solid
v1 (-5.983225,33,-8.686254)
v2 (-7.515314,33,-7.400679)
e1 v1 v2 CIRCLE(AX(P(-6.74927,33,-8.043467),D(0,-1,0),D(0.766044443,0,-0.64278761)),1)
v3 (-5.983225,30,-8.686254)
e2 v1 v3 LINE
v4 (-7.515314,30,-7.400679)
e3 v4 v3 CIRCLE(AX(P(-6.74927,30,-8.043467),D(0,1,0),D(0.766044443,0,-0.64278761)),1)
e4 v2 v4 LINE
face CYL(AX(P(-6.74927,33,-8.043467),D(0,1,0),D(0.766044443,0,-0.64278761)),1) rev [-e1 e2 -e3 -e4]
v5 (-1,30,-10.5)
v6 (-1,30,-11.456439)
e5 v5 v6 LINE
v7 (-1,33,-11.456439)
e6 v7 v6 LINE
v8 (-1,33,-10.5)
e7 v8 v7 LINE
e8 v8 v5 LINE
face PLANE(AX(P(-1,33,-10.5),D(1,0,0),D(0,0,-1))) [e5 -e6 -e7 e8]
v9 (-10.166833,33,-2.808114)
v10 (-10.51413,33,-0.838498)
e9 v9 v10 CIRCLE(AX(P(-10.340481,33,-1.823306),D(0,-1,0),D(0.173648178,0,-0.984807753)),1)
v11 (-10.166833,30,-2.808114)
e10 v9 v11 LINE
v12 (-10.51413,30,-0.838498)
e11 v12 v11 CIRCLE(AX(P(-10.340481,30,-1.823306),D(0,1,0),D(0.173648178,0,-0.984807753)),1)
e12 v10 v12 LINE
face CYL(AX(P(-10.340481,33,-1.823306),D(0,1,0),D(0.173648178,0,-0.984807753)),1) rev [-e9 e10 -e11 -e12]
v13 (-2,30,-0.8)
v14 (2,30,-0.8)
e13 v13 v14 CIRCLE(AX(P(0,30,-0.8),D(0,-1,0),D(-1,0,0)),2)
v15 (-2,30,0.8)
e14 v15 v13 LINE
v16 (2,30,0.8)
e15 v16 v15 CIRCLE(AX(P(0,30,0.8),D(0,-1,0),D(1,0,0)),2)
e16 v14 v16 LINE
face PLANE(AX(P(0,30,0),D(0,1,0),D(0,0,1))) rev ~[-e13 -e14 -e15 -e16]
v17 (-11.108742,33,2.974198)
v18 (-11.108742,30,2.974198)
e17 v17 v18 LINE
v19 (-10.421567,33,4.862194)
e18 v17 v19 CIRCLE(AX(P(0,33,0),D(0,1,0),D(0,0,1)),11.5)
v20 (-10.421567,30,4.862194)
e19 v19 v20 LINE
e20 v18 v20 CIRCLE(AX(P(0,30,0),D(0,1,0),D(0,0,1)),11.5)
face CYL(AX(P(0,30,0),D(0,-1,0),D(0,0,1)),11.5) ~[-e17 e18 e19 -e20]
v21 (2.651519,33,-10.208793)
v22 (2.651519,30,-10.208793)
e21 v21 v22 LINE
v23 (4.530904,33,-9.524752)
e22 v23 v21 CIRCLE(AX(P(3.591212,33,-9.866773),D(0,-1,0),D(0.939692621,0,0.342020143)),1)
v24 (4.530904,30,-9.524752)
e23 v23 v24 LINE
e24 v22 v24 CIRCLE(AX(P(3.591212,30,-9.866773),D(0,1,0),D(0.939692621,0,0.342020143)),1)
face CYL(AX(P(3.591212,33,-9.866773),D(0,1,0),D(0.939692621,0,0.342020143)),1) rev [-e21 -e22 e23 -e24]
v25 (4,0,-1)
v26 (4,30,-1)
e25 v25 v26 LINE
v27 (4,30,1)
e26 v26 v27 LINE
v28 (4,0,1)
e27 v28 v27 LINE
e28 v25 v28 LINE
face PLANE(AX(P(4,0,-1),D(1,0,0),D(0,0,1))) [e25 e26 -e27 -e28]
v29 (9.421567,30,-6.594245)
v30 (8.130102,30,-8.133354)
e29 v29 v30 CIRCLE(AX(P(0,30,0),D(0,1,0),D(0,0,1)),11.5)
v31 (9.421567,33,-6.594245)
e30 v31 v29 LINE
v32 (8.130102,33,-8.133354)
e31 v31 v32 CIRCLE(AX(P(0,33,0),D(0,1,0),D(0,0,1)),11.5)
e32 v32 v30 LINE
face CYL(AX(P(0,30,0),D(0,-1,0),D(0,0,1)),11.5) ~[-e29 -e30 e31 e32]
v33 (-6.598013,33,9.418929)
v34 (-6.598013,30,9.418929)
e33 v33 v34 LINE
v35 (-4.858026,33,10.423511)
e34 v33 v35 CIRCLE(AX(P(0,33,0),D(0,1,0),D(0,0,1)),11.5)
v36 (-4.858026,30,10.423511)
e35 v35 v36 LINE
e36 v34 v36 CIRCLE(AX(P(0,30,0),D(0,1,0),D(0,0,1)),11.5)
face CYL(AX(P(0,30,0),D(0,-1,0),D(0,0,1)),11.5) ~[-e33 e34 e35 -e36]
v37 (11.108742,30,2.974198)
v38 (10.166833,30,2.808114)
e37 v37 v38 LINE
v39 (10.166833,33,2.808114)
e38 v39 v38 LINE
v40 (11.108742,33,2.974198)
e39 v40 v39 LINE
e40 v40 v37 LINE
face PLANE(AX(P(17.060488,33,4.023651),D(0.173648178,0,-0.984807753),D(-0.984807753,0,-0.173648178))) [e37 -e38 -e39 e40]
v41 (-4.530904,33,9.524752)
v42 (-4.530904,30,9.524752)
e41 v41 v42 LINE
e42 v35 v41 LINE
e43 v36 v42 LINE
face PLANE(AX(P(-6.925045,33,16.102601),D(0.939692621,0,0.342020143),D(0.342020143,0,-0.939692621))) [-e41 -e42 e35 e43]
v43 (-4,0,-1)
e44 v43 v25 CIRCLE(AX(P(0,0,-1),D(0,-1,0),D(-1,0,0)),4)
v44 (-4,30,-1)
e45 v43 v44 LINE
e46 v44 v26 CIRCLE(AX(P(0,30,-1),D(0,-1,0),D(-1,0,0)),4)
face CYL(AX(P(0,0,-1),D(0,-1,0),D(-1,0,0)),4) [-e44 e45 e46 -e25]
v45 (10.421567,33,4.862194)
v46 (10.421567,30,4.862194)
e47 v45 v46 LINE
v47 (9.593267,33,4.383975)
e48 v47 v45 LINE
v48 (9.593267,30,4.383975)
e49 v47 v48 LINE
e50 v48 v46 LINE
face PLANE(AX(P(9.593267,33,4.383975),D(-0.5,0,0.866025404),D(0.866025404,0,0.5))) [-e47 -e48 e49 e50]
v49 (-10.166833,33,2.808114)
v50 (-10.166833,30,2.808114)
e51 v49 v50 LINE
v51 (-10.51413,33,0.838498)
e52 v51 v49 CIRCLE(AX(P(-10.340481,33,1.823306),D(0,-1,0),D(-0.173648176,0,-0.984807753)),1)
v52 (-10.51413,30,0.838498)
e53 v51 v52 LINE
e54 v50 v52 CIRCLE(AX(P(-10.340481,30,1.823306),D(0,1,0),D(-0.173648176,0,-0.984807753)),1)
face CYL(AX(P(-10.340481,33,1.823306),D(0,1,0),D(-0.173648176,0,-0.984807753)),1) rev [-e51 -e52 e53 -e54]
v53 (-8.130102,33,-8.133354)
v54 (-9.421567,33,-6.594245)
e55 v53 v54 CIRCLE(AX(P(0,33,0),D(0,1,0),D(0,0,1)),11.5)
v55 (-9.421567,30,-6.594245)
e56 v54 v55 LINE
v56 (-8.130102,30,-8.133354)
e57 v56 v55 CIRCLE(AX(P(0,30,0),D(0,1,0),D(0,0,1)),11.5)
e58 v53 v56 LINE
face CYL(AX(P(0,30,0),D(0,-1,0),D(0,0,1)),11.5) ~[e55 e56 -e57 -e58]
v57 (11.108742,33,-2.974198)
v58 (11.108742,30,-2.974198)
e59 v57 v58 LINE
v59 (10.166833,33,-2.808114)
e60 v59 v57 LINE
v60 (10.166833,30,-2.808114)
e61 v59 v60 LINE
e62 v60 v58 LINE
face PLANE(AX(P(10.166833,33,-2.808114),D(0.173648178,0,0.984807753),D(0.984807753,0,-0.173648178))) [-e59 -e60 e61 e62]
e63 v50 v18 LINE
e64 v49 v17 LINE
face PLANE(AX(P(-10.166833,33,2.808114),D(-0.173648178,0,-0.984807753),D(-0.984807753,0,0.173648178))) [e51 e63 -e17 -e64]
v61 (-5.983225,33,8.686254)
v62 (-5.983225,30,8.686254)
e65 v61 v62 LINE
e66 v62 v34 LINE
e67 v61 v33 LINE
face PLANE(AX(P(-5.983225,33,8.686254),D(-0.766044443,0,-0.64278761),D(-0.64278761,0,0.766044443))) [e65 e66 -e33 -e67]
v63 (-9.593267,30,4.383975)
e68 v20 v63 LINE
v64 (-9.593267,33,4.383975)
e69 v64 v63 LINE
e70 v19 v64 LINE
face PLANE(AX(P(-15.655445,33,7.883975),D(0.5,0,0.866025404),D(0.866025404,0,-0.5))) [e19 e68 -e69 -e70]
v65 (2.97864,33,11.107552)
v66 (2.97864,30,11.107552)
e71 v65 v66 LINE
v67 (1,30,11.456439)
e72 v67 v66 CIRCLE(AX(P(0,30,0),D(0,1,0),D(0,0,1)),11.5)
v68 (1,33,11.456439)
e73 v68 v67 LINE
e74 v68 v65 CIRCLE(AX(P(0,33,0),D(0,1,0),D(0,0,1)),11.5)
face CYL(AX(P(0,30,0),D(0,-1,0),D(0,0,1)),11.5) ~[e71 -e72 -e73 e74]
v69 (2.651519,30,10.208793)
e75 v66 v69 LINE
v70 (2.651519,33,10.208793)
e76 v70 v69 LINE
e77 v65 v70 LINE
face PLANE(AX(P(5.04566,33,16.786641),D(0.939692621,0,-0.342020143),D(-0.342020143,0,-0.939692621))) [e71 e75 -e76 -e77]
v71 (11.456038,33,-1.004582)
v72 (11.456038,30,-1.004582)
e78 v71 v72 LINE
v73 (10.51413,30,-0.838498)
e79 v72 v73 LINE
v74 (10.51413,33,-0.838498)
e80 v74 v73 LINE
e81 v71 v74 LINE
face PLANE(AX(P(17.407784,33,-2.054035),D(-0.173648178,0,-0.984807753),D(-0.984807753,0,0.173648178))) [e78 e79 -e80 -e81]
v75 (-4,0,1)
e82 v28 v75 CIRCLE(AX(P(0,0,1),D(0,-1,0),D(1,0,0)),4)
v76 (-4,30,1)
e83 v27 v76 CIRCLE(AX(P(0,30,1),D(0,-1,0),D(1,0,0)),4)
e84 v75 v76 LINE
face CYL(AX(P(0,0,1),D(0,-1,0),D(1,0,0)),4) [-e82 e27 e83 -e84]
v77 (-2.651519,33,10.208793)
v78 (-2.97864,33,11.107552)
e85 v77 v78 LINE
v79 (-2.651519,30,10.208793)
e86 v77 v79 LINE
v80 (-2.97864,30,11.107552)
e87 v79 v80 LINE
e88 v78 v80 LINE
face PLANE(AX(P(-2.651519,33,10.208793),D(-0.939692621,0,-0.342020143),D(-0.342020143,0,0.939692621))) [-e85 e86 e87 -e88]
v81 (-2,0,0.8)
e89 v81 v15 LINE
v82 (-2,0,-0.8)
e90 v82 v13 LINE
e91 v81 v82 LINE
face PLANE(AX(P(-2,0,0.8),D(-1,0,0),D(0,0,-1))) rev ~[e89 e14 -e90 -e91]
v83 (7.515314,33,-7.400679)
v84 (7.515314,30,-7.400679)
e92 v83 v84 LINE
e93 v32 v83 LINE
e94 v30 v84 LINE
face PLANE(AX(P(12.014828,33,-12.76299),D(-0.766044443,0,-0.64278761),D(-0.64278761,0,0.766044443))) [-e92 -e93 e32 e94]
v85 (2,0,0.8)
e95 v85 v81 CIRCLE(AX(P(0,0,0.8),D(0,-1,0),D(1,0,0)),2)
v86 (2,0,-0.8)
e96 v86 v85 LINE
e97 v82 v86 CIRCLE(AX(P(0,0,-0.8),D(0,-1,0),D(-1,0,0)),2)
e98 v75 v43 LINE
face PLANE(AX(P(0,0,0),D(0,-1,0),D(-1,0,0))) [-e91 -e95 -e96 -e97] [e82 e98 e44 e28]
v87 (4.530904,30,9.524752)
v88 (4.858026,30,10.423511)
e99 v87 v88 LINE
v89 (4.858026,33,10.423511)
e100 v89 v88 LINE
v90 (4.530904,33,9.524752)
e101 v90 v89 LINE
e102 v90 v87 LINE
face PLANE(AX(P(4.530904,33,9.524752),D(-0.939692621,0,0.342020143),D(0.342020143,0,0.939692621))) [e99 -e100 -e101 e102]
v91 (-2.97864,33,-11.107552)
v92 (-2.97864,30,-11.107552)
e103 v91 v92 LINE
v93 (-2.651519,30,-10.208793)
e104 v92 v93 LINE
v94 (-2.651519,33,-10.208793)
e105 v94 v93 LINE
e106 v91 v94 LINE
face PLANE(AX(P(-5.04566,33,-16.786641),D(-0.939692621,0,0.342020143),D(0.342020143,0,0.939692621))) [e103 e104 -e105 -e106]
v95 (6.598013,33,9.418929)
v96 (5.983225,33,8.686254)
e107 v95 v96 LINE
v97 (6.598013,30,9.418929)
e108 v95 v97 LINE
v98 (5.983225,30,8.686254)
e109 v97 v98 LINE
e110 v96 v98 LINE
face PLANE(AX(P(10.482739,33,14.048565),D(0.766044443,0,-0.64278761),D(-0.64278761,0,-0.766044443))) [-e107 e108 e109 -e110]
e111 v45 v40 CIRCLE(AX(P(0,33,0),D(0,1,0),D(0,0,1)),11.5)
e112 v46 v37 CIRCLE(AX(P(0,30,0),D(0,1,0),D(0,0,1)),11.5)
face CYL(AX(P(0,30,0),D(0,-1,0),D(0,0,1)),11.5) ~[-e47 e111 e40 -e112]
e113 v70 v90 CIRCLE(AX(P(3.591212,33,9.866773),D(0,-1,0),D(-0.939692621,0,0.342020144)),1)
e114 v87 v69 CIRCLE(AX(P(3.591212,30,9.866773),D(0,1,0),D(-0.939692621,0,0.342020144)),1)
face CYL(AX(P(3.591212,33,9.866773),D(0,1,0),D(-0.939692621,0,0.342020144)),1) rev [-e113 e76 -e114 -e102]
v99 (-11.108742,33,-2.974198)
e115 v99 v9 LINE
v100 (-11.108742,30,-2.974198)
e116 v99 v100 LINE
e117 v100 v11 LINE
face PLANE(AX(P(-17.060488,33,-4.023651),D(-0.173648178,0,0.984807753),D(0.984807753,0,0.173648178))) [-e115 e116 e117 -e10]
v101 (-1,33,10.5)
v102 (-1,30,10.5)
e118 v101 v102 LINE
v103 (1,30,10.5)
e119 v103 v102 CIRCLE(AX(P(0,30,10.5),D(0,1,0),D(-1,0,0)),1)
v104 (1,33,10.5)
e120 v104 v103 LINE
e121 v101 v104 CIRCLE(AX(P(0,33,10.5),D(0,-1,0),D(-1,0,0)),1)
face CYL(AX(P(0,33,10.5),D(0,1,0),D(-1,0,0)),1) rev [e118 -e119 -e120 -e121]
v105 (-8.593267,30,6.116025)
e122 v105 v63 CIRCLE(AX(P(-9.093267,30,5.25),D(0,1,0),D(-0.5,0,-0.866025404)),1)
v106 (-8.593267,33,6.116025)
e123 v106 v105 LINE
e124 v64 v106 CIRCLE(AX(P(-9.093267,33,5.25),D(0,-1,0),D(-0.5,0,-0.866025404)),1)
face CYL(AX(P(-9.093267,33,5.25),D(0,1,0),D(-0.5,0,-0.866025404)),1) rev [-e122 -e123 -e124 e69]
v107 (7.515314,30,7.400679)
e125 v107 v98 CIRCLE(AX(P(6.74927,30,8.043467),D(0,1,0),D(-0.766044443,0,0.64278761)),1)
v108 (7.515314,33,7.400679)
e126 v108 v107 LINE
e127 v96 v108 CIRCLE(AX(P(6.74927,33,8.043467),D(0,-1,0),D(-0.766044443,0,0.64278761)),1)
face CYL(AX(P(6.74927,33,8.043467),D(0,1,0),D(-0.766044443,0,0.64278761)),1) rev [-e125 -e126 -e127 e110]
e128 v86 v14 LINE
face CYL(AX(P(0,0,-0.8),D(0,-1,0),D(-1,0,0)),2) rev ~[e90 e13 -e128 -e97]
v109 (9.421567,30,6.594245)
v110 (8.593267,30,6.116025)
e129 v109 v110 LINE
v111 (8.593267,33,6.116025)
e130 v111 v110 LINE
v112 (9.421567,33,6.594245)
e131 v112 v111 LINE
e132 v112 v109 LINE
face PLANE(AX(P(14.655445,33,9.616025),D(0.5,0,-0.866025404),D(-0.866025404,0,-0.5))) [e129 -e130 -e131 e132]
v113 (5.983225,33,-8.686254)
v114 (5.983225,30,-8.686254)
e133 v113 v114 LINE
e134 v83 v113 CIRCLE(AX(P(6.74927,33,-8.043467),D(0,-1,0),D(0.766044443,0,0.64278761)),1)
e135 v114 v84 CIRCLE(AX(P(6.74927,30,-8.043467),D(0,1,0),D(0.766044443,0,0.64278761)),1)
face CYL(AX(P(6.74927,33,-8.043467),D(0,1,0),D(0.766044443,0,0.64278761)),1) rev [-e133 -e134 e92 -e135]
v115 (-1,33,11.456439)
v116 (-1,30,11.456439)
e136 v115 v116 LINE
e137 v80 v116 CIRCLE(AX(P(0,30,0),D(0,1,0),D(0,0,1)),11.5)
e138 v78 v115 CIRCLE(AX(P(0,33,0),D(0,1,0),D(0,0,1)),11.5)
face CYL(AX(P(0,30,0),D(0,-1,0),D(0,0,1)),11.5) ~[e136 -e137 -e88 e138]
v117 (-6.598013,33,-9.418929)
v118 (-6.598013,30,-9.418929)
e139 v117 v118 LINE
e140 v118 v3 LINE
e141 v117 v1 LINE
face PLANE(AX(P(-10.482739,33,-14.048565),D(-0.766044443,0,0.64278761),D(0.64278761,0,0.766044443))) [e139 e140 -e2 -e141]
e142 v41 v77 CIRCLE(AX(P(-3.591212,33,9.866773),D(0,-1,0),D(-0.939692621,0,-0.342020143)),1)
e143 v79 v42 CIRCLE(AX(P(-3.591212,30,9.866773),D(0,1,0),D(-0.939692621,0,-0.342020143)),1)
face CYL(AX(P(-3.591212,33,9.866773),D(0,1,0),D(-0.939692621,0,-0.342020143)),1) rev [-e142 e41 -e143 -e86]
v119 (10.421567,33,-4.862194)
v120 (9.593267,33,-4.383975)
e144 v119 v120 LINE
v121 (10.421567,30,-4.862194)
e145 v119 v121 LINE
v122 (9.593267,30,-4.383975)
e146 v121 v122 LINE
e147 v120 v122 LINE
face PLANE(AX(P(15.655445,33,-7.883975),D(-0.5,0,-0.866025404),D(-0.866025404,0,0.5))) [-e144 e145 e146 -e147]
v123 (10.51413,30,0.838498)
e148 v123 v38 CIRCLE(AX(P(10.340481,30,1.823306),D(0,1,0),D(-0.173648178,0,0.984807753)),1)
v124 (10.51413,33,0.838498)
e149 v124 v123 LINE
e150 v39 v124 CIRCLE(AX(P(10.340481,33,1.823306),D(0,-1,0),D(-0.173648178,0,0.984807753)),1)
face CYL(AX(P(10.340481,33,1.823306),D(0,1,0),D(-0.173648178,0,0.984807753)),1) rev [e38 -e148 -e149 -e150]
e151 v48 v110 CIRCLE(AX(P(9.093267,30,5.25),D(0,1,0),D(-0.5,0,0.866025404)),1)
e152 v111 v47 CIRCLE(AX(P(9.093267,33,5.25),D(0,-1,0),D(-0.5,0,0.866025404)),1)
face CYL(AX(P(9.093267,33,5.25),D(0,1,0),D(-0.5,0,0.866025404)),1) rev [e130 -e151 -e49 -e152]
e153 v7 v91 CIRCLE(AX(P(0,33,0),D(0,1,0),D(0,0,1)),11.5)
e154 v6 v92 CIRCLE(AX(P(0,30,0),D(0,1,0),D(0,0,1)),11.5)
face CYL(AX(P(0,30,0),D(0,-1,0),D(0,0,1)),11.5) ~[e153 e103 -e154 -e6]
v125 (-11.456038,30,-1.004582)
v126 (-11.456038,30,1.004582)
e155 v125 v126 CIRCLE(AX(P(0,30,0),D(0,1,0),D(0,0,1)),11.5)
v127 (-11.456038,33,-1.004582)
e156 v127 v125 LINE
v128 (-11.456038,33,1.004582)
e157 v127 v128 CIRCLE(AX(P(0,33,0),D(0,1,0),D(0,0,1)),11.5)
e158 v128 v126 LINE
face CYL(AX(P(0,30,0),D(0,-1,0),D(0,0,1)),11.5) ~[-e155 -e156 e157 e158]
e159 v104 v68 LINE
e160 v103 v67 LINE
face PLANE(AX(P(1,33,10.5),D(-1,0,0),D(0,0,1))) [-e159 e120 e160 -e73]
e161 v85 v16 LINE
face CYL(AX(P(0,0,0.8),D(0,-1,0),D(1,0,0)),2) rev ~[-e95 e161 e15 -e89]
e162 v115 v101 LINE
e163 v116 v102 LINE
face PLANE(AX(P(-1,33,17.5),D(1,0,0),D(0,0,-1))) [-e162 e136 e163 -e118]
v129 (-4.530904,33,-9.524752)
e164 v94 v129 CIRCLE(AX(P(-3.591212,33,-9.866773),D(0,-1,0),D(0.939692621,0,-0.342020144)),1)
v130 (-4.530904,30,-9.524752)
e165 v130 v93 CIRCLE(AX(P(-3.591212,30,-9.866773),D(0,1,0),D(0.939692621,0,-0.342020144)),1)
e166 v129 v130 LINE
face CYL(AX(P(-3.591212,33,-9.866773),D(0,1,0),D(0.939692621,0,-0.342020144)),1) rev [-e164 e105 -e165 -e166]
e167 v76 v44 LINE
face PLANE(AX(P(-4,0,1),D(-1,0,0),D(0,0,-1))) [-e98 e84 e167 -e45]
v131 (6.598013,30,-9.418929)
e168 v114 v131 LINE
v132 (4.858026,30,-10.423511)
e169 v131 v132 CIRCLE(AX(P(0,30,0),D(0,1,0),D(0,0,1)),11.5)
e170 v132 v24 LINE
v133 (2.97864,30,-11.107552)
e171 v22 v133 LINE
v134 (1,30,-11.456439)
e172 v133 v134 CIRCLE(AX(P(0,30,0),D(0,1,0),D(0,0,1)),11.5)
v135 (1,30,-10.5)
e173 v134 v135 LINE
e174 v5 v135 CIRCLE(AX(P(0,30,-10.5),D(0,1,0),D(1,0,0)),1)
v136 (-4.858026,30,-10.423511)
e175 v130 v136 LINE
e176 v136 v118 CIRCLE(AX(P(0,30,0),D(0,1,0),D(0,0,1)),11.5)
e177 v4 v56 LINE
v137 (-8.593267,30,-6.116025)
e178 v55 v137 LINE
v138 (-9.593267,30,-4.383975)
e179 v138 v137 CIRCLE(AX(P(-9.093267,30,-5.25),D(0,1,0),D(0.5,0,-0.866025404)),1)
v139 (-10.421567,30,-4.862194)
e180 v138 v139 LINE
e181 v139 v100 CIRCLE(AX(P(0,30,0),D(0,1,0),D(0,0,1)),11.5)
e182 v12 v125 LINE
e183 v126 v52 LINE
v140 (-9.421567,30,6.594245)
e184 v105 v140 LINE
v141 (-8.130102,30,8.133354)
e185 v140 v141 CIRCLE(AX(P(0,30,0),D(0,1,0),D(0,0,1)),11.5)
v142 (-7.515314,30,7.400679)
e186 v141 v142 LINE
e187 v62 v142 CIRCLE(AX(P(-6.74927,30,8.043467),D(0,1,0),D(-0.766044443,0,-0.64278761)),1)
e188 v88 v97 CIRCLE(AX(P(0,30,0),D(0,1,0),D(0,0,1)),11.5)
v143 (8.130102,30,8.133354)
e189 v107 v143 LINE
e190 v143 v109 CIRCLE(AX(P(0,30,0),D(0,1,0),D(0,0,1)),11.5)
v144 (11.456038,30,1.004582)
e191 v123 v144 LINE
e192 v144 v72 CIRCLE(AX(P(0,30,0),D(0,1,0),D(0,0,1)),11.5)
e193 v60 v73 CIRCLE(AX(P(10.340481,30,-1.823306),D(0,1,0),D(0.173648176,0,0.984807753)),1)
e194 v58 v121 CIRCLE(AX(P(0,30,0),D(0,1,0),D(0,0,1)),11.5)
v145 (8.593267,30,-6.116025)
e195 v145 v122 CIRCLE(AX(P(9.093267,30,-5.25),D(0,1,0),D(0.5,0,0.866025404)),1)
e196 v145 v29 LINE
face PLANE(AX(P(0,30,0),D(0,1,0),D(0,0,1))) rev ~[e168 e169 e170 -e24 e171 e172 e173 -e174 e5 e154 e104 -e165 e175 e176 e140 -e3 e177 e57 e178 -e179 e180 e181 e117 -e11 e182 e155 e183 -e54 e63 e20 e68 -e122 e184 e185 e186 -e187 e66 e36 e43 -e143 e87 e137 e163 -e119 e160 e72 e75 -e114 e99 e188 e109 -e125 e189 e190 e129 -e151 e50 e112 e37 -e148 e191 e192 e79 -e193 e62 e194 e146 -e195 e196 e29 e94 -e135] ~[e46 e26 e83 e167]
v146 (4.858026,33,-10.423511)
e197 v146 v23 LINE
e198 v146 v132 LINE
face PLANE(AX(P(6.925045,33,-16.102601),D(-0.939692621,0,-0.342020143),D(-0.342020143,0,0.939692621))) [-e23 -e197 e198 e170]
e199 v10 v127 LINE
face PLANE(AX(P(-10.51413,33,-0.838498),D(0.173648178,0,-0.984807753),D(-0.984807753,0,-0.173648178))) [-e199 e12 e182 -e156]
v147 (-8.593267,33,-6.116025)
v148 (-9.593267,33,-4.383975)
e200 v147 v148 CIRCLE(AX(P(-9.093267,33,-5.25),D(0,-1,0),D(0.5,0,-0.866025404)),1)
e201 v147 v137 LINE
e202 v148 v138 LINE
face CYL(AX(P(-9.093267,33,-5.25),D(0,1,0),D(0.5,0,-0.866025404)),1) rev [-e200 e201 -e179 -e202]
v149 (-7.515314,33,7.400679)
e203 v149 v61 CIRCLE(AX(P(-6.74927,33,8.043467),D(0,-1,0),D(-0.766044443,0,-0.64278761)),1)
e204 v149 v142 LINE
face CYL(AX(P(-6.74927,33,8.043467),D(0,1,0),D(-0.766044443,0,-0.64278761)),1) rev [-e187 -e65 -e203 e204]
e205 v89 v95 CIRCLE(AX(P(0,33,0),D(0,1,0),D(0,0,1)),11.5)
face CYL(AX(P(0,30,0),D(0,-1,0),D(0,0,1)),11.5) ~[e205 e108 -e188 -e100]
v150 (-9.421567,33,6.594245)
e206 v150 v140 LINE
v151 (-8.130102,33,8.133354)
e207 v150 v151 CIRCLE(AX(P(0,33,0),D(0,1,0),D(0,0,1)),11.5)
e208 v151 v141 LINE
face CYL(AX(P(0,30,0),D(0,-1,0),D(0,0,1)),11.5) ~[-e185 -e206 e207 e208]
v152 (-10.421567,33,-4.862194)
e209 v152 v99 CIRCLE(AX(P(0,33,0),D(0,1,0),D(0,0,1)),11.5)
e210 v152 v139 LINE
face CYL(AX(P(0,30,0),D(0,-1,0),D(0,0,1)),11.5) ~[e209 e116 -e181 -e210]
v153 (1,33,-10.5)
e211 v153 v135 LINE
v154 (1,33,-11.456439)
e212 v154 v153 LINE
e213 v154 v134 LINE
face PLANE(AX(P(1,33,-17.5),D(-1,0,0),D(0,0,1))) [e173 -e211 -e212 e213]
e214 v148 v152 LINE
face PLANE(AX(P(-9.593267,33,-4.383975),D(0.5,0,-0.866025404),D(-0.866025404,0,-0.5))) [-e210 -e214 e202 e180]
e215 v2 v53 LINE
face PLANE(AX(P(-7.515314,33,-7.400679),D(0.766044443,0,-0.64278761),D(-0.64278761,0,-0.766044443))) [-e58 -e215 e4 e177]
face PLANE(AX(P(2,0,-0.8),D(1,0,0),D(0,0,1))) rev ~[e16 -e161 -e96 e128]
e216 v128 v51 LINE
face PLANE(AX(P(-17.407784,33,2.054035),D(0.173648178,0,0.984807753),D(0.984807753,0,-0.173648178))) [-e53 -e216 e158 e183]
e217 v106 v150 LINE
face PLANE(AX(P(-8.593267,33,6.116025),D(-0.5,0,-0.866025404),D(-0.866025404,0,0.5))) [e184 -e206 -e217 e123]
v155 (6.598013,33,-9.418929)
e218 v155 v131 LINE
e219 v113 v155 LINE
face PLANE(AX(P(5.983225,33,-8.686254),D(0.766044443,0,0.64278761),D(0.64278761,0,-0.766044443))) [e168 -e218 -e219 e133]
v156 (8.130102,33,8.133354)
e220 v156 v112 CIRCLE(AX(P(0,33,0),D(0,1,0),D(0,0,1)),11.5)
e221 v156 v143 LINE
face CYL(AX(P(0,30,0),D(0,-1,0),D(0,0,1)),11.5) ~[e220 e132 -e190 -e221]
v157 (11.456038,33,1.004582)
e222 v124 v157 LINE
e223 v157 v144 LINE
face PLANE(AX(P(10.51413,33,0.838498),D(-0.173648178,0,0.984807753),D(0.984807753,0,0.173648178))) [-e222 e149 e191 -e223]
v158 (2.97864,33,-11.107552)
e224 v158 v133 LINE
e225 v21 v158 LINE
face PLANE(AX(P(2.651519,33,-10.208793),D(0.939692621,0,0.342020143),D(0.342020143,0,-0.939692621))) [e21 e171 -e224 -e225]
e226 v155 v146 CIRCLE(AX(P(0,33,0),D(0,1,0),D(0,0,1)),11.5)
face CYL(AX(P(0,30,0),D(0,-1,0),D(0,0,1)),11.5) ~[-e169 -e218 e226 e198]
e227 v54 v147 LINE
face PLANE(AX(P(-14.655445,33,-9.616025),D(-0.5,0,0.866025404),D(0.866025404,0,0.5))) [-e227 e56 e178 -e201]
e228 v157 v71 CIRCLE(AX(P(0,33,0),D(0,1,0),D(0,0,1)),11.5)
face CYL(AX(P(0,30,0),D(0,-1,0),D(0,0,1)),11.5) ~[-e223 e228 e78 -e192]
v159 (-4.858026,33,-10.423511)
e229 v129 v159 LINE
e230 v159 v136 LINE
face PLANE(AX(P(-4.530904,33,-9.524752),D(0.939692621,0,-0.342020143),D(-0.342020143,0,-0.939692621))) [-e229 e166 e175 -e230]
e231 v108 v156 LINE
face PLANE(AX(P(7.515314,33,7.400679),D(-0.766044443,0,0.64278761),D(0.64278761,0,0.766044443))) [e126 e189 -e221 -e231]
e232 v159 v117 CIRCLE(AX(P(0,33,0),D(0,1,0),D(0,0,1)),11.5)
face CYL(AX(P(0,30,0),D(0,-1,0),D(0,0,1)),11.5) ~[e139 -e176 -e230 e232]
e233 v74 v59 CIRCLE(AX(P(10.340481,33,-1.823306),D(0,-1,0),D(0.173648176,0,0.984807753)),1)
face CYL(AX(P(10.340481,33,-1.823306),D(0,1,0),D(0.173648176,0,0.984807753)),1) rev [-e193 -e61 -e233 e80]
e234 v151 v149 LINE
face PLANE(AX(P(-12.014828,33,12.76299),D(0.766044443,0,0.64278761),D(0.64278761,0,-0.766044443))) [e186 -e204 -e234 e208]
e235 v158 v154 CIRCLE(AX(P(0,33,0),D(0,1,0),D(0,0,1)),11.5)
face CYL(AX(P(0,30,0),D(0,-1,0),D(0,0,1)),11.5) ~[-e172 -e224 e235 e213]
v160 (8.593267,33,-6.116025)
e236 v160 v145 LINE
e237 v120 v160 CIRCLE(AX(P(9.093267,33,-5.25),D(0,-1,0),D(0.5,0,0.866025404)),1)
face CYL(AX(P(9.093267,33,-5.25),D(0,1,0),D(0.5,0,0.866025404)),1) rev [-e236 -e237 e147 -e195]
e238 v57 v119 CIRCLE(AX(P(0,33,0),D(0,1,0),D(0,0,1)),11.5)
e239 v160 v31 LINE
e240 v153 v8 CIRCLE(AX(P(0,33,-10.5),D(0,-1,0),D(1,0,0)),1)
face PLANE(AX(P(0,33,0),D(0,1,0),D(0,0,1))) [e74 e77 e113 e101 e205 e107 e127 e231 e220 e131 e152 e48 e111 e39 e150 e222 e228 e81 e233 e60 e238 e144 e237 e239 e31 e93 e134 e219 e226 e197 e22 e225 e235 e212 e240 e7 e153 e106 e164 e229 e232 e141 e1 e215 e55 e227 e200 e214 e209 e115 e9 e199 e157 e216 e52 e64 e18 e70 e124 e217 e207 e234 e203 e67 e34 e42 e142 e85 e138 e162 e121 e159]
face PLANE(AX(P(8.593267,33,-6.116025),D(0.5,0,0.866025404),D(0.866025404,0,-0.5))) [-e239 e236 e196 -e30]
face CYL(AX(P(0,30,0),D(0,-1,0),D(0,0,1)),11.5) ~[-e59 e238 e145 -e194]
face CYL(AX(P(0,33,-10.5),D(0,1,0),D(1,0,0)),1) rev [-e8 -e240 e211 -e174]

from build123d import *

# Parameters (mm, degrees)
BOSS_EXTRUDE1_DEPTH = 30
SKETCH2_R           = 11.5
BOSS_EXTRUDE2_DEPTH = 3
CUT_EXTRUDE1_DEPTH  = 37.789944278


with BuildPart() as part:
    # Sketch1 → Boss-Extrude1 (new body)
    with BuildSketch(Plane(origin=(0, 0, 0), x_dir=(1, 0, 0), z_dir=(0, 1, 0))):
        with BuildLine():
            Line((-4, -1), (-4, 1))
            ThreePointArc((-4, 1), (0, 5), (4, 1))
            Line((4, 1), (4, -1))
            ThreePointArc((4, -1), (0, -5), (-4, -1))
        make_face()
        with BuildLine():
            Line((-2, -0.8), (-2, 0.8))
            ThreePointArc((-2, 0.8), (0, 2.8), (2, 0.8))
            Line((2, 0.8), (2, -0.8))
            ThreePointArc((2, -0.8), (0, -2.8), (-2, -0.8))
        make_face(mode=Mode.SUBTRACT)
    extrude(amount=BOSS_EXTRUDE1_DEPTH)

    # Sketch2 → Boss-Extrude2 (add)
    with BuildSketch(Plane(origin=(0, 30, 0), x_dir=(1, 0, 0), z_dir=(0, 1, 0))):
        with Locations(Location((0, 0, 0), (0, 0, 270))):
            Circle(SKETCH2_R)
    extrude(amount=BOSS_EXTRUDE2_DEPTH)

    # Sketch3 → Cut-Extrude1 (cut, through all)
    with BuildSketch(Plane(origin=(0, 33, 0), x_dir=(1, 0, 0), z_dir=(0, 1, 0))):
        with BuildLine():
            Line((-1, 10.5), (-1, 17.5))
            ThreePointArc((-1, 17.5), (0, 18.5), (1, 17.5))
            Line((1, 17.5), (1, 10.5))
            ThreePointArc((1, 10.5), (0, 9.5), (-1, 10.5))
        make_face()
        with BuildLine():
            Line((2.651518884, 10.208792662), (5.045659887, 16.786641007))
            ThreePointArc((5.045659887, 16.786641007), (6.327372652, 17.384313485), (6.925045129, 16.10260072))
            Line((6.925045129, 16.10260072), (4.530904126, 9.524752375))
            ThreePointArc((4.530904126, 9.524752375), (3.249191362, 8.927079897), (2.651518884, 10.208792662))
        make_face()
        with BuildLine():
            Line((5.983225459, 8.686254262), (10.482738726, 14.048565364))
            ThreePointArc((10.482738726, 14.048565364), (11.891570779, 14.171822198), (12.014827613, 12.762990145))
            Line((12.014827613, 12.762990145), (7.515314345, 7.400679043))
            ThreePointArc((7.515314345, 7.400679043), (6.106482292, 7.27742221), (5.983225459, 8.686254262))
        make_face()
        with BuildLine():
            Line((8.59326674, 6.116025404), (14.655444566, 9.616025404))
            ThreePointArc((14.655444566, 9.616025404), (16.02146997, 9.25), (15.655444566, 7.883974596))
            Line((15.655444566, 7.883974596), (9.59326674, 4.383974596))
            ThreePointArc((9.59326674, 4.383974596), (8.227241336, 4.75), (8.59326674, 6.116025404))
        make_face()
        with BuildLine():
            Line((10.166833229, 2.808113619), (17.0604875, 4.023650862))
            ThreePointArc((17.0604875, 4.023650862), (18.218943431, 3.212491287), (17.407783855, 2.054035356))
            Line((17.407783855, 2.054035356), (10.514129584, 0.838498112))
            ThreePointArc((10.514129584, 0.838498112), (9.355673654, 1.649657688), (10.166833229, 2.808113619))
        make_face()
        with BuildLine():
            Line((10.514129584, -0.838498112), (17.407783855, -2.054035356))
            ThreePointArc((17.407783855, -2.054035356), (18.218943431, -3.212491287), (17.0604875, -4.023650862))
            Line((17.0604875, -4.023650862), (10.166833229, -2.808113619))
            ThreePointArc((10.166833229, -2.808113619), (9.355673654, -1.649657688), (10.514129584, -0.838498112))
        make_face()
        with BuildLine():
            Line((9.59326674, -4.383974596), (15.655444566, -7.883974596))
            ThreePointArc((15.655444566, -7.883974596), (16.02146997, -9.25), (14.655444566, -9.616025404))
            Line((14.655444566, -9.616025404), (8.59326674, -6.116025404))
            ThreePointArc((8.59326674, -6.116025404), (8.227241336, -4.75), (9.59326674, -4.383974596))
        make_face()
        with BuildLine():
            Line((7.515314345, -7.400679043), (12.014827613, -12.762990145))
            ThreePointArc((12.014827613, -12.762990145), (11.891570779, -14.171822198), (10.482738726, -14.048565364))
            Line((10.482738726, -14.048565364), (5.983225459, -8.686254262))
            ThreePointArc((5.983225459, -8.686254262), (6.106482292, -7.27742221), (7.515314345, -7.400679043))
        make_face()
        with BuildLine():
            Line((4.530904126, -9.524752375), (6.925045129, -16.10260072))
            ThreePointArc((6.925045129, -16.10260072), (6.327372652, -17.384313485), (5.045659887, -16.786641007))
            Line((5.045659887, -16.786641007), (2.651518884, -10.208792662))
            ThreePointArc((2.651518884, -10.208792662), (3.249191362, -8.927079897), (4.530904126, -9.524752375))
        make_face()
        with BuildLine():
            Line((1, -10.5), (1, -17.5))
            ThreePointArc((1, -17.5), (0, -18.5), (-1, -17.5))
            Line((-1, -17.5), (-1, -10.5))
            ThreePointArc((-1, -10.5), (0, -9.5), (1, -10.5))
        make_face()
        with BuildLine():
            Line((-2.651518884, -10.208792662), (-5.045659887, -16.786641007))
            ThreePointArc((-5.045659887, -16.786641007), (-6.327372652, -17.384313485), (-6.925045129, -16.10260072))
            Line((-6.925045129, -16.10260072), (-4.530904126, -9.524752375))
            ThreePointArc((-4.530904126, -9.524752375), (-3.249191362, -8.927079897), (-2.651518884, -10.208792662))
        make_face()
        with BuildLine():
            Line((-5.983225459, -8.686254262), (-10.482738726, -14.048565364))
            ThreePointArc((-10.482738726, -14.048565364), (-11.891570779, -14.171822198), (-12.014827613, -12.762990145))
            Line((-12.014827613, -12.762990145), (-7.515314345, -7.400679043))
            ThreePointArc((-7.515314345, -7.400679043), (-6.106482292, -7.27742221), (-5.983225459, -8.686254262))
        make_face()
        with BuildLine():
            Line((-8.59326674, -6.116025404), (-14.655444566, -9.616025404))
            ThreePointArc((-14.655444566, -9.616025404), (-16.02146997, -9.25), (-15.655444566, -7.883974596))
            Line((-15.655444566, -7.883974596), (-9.59326674, -4.383974596))
            ThreePointArc((-9.59326674, -4.383974596), (-8.227241336, -4.75), (-8.59326674, -6.116025404))
        make_face()
        with BuildLine():
            Line((-10.166833229, -2.808113619), (-17.0604875, -4.023650862))
            ThreePointArc((-17.0604875, -4.023650862), (-18.218943431, -3.212491287), (-17.407783855, -2.054035356))
            Line((-17.407783855, -2.054035356), (-10.514129584, -0.838498112))
            ThreePointArc((-10.514129584, -0.838498112), (-9.355673654, -1.649657688), (-10.166833229, -2.808113619))
        make_face()
        with BuildLine():
            Line((-10.514129584, 0.838498112), (-17.407783855, 2.054035356))
            ThreePointArc((-17.407783855, 2.054035356), (-18.218943431, 3.212491287), (-17.0604875, 4.023650862))
            Line((-17.0604875, 4.023650862), (-10.166833229, 2.808113619))
            ThreePointArc((-10.166833229, 2.808113619), (-9.355673654, 1.649657688), (-10.514129584, 0.838498112))
        make_face()
        with BuildLine():
            Line((-9.59326674, 4.383974596), (-15.655444566, 7.883974596))
            ThreePointArc((-15.655444566, 7.883974596), (-16.02146997, 9.25), (-14.655444566, 9.616025404))
            Line((-14.655444566, 9.616025404), (-8.59326674, 6.116025404))
            ThreePointArc((-8.59326674, 6.116025404), (-8.227241336, 4.75), (-9.59326674, 4.383974596))
        make_face()
        with BuildLine():
            Line((-7.515314345, 7.400679043), (-12.014827613, 12.762990145))
            ThreePointArc((-12.014827613, 12.762990145), (-11.891570779, 14.171822198), (-10.482738726, 14.048565364))
            Line((-10.482738726, 14.048565364), (-5.983225459, 8.686254262))
            ThreePointArc((-5.983225459, 8.686254262), (-6.106482292, 7.27742221), (-7.515314345, 7.400679043))
        make_face()
        with BuildLine():
            Line((-4.530904126, 9.524752375), (-6.925045129, 16.10260072))
            ThreePointArc((-6.925045129, 16.10260072), (-6.327372652, 17.384313485), (-5.045659887, 16.786641007))
            Line((-5.045659887, 16.786641007), (-2.651518884, 10.208792662))
            ThreePointArc((-2.651518884, 10.208792662), (-3.249191362, 8.927079897), (-4.530904126, 9.524752375))
        make_face()
    extrude(amount=-CUT_EXTRUDE1_DEPTH, mode=Mode.SUBTRACT)


solid = part.part
